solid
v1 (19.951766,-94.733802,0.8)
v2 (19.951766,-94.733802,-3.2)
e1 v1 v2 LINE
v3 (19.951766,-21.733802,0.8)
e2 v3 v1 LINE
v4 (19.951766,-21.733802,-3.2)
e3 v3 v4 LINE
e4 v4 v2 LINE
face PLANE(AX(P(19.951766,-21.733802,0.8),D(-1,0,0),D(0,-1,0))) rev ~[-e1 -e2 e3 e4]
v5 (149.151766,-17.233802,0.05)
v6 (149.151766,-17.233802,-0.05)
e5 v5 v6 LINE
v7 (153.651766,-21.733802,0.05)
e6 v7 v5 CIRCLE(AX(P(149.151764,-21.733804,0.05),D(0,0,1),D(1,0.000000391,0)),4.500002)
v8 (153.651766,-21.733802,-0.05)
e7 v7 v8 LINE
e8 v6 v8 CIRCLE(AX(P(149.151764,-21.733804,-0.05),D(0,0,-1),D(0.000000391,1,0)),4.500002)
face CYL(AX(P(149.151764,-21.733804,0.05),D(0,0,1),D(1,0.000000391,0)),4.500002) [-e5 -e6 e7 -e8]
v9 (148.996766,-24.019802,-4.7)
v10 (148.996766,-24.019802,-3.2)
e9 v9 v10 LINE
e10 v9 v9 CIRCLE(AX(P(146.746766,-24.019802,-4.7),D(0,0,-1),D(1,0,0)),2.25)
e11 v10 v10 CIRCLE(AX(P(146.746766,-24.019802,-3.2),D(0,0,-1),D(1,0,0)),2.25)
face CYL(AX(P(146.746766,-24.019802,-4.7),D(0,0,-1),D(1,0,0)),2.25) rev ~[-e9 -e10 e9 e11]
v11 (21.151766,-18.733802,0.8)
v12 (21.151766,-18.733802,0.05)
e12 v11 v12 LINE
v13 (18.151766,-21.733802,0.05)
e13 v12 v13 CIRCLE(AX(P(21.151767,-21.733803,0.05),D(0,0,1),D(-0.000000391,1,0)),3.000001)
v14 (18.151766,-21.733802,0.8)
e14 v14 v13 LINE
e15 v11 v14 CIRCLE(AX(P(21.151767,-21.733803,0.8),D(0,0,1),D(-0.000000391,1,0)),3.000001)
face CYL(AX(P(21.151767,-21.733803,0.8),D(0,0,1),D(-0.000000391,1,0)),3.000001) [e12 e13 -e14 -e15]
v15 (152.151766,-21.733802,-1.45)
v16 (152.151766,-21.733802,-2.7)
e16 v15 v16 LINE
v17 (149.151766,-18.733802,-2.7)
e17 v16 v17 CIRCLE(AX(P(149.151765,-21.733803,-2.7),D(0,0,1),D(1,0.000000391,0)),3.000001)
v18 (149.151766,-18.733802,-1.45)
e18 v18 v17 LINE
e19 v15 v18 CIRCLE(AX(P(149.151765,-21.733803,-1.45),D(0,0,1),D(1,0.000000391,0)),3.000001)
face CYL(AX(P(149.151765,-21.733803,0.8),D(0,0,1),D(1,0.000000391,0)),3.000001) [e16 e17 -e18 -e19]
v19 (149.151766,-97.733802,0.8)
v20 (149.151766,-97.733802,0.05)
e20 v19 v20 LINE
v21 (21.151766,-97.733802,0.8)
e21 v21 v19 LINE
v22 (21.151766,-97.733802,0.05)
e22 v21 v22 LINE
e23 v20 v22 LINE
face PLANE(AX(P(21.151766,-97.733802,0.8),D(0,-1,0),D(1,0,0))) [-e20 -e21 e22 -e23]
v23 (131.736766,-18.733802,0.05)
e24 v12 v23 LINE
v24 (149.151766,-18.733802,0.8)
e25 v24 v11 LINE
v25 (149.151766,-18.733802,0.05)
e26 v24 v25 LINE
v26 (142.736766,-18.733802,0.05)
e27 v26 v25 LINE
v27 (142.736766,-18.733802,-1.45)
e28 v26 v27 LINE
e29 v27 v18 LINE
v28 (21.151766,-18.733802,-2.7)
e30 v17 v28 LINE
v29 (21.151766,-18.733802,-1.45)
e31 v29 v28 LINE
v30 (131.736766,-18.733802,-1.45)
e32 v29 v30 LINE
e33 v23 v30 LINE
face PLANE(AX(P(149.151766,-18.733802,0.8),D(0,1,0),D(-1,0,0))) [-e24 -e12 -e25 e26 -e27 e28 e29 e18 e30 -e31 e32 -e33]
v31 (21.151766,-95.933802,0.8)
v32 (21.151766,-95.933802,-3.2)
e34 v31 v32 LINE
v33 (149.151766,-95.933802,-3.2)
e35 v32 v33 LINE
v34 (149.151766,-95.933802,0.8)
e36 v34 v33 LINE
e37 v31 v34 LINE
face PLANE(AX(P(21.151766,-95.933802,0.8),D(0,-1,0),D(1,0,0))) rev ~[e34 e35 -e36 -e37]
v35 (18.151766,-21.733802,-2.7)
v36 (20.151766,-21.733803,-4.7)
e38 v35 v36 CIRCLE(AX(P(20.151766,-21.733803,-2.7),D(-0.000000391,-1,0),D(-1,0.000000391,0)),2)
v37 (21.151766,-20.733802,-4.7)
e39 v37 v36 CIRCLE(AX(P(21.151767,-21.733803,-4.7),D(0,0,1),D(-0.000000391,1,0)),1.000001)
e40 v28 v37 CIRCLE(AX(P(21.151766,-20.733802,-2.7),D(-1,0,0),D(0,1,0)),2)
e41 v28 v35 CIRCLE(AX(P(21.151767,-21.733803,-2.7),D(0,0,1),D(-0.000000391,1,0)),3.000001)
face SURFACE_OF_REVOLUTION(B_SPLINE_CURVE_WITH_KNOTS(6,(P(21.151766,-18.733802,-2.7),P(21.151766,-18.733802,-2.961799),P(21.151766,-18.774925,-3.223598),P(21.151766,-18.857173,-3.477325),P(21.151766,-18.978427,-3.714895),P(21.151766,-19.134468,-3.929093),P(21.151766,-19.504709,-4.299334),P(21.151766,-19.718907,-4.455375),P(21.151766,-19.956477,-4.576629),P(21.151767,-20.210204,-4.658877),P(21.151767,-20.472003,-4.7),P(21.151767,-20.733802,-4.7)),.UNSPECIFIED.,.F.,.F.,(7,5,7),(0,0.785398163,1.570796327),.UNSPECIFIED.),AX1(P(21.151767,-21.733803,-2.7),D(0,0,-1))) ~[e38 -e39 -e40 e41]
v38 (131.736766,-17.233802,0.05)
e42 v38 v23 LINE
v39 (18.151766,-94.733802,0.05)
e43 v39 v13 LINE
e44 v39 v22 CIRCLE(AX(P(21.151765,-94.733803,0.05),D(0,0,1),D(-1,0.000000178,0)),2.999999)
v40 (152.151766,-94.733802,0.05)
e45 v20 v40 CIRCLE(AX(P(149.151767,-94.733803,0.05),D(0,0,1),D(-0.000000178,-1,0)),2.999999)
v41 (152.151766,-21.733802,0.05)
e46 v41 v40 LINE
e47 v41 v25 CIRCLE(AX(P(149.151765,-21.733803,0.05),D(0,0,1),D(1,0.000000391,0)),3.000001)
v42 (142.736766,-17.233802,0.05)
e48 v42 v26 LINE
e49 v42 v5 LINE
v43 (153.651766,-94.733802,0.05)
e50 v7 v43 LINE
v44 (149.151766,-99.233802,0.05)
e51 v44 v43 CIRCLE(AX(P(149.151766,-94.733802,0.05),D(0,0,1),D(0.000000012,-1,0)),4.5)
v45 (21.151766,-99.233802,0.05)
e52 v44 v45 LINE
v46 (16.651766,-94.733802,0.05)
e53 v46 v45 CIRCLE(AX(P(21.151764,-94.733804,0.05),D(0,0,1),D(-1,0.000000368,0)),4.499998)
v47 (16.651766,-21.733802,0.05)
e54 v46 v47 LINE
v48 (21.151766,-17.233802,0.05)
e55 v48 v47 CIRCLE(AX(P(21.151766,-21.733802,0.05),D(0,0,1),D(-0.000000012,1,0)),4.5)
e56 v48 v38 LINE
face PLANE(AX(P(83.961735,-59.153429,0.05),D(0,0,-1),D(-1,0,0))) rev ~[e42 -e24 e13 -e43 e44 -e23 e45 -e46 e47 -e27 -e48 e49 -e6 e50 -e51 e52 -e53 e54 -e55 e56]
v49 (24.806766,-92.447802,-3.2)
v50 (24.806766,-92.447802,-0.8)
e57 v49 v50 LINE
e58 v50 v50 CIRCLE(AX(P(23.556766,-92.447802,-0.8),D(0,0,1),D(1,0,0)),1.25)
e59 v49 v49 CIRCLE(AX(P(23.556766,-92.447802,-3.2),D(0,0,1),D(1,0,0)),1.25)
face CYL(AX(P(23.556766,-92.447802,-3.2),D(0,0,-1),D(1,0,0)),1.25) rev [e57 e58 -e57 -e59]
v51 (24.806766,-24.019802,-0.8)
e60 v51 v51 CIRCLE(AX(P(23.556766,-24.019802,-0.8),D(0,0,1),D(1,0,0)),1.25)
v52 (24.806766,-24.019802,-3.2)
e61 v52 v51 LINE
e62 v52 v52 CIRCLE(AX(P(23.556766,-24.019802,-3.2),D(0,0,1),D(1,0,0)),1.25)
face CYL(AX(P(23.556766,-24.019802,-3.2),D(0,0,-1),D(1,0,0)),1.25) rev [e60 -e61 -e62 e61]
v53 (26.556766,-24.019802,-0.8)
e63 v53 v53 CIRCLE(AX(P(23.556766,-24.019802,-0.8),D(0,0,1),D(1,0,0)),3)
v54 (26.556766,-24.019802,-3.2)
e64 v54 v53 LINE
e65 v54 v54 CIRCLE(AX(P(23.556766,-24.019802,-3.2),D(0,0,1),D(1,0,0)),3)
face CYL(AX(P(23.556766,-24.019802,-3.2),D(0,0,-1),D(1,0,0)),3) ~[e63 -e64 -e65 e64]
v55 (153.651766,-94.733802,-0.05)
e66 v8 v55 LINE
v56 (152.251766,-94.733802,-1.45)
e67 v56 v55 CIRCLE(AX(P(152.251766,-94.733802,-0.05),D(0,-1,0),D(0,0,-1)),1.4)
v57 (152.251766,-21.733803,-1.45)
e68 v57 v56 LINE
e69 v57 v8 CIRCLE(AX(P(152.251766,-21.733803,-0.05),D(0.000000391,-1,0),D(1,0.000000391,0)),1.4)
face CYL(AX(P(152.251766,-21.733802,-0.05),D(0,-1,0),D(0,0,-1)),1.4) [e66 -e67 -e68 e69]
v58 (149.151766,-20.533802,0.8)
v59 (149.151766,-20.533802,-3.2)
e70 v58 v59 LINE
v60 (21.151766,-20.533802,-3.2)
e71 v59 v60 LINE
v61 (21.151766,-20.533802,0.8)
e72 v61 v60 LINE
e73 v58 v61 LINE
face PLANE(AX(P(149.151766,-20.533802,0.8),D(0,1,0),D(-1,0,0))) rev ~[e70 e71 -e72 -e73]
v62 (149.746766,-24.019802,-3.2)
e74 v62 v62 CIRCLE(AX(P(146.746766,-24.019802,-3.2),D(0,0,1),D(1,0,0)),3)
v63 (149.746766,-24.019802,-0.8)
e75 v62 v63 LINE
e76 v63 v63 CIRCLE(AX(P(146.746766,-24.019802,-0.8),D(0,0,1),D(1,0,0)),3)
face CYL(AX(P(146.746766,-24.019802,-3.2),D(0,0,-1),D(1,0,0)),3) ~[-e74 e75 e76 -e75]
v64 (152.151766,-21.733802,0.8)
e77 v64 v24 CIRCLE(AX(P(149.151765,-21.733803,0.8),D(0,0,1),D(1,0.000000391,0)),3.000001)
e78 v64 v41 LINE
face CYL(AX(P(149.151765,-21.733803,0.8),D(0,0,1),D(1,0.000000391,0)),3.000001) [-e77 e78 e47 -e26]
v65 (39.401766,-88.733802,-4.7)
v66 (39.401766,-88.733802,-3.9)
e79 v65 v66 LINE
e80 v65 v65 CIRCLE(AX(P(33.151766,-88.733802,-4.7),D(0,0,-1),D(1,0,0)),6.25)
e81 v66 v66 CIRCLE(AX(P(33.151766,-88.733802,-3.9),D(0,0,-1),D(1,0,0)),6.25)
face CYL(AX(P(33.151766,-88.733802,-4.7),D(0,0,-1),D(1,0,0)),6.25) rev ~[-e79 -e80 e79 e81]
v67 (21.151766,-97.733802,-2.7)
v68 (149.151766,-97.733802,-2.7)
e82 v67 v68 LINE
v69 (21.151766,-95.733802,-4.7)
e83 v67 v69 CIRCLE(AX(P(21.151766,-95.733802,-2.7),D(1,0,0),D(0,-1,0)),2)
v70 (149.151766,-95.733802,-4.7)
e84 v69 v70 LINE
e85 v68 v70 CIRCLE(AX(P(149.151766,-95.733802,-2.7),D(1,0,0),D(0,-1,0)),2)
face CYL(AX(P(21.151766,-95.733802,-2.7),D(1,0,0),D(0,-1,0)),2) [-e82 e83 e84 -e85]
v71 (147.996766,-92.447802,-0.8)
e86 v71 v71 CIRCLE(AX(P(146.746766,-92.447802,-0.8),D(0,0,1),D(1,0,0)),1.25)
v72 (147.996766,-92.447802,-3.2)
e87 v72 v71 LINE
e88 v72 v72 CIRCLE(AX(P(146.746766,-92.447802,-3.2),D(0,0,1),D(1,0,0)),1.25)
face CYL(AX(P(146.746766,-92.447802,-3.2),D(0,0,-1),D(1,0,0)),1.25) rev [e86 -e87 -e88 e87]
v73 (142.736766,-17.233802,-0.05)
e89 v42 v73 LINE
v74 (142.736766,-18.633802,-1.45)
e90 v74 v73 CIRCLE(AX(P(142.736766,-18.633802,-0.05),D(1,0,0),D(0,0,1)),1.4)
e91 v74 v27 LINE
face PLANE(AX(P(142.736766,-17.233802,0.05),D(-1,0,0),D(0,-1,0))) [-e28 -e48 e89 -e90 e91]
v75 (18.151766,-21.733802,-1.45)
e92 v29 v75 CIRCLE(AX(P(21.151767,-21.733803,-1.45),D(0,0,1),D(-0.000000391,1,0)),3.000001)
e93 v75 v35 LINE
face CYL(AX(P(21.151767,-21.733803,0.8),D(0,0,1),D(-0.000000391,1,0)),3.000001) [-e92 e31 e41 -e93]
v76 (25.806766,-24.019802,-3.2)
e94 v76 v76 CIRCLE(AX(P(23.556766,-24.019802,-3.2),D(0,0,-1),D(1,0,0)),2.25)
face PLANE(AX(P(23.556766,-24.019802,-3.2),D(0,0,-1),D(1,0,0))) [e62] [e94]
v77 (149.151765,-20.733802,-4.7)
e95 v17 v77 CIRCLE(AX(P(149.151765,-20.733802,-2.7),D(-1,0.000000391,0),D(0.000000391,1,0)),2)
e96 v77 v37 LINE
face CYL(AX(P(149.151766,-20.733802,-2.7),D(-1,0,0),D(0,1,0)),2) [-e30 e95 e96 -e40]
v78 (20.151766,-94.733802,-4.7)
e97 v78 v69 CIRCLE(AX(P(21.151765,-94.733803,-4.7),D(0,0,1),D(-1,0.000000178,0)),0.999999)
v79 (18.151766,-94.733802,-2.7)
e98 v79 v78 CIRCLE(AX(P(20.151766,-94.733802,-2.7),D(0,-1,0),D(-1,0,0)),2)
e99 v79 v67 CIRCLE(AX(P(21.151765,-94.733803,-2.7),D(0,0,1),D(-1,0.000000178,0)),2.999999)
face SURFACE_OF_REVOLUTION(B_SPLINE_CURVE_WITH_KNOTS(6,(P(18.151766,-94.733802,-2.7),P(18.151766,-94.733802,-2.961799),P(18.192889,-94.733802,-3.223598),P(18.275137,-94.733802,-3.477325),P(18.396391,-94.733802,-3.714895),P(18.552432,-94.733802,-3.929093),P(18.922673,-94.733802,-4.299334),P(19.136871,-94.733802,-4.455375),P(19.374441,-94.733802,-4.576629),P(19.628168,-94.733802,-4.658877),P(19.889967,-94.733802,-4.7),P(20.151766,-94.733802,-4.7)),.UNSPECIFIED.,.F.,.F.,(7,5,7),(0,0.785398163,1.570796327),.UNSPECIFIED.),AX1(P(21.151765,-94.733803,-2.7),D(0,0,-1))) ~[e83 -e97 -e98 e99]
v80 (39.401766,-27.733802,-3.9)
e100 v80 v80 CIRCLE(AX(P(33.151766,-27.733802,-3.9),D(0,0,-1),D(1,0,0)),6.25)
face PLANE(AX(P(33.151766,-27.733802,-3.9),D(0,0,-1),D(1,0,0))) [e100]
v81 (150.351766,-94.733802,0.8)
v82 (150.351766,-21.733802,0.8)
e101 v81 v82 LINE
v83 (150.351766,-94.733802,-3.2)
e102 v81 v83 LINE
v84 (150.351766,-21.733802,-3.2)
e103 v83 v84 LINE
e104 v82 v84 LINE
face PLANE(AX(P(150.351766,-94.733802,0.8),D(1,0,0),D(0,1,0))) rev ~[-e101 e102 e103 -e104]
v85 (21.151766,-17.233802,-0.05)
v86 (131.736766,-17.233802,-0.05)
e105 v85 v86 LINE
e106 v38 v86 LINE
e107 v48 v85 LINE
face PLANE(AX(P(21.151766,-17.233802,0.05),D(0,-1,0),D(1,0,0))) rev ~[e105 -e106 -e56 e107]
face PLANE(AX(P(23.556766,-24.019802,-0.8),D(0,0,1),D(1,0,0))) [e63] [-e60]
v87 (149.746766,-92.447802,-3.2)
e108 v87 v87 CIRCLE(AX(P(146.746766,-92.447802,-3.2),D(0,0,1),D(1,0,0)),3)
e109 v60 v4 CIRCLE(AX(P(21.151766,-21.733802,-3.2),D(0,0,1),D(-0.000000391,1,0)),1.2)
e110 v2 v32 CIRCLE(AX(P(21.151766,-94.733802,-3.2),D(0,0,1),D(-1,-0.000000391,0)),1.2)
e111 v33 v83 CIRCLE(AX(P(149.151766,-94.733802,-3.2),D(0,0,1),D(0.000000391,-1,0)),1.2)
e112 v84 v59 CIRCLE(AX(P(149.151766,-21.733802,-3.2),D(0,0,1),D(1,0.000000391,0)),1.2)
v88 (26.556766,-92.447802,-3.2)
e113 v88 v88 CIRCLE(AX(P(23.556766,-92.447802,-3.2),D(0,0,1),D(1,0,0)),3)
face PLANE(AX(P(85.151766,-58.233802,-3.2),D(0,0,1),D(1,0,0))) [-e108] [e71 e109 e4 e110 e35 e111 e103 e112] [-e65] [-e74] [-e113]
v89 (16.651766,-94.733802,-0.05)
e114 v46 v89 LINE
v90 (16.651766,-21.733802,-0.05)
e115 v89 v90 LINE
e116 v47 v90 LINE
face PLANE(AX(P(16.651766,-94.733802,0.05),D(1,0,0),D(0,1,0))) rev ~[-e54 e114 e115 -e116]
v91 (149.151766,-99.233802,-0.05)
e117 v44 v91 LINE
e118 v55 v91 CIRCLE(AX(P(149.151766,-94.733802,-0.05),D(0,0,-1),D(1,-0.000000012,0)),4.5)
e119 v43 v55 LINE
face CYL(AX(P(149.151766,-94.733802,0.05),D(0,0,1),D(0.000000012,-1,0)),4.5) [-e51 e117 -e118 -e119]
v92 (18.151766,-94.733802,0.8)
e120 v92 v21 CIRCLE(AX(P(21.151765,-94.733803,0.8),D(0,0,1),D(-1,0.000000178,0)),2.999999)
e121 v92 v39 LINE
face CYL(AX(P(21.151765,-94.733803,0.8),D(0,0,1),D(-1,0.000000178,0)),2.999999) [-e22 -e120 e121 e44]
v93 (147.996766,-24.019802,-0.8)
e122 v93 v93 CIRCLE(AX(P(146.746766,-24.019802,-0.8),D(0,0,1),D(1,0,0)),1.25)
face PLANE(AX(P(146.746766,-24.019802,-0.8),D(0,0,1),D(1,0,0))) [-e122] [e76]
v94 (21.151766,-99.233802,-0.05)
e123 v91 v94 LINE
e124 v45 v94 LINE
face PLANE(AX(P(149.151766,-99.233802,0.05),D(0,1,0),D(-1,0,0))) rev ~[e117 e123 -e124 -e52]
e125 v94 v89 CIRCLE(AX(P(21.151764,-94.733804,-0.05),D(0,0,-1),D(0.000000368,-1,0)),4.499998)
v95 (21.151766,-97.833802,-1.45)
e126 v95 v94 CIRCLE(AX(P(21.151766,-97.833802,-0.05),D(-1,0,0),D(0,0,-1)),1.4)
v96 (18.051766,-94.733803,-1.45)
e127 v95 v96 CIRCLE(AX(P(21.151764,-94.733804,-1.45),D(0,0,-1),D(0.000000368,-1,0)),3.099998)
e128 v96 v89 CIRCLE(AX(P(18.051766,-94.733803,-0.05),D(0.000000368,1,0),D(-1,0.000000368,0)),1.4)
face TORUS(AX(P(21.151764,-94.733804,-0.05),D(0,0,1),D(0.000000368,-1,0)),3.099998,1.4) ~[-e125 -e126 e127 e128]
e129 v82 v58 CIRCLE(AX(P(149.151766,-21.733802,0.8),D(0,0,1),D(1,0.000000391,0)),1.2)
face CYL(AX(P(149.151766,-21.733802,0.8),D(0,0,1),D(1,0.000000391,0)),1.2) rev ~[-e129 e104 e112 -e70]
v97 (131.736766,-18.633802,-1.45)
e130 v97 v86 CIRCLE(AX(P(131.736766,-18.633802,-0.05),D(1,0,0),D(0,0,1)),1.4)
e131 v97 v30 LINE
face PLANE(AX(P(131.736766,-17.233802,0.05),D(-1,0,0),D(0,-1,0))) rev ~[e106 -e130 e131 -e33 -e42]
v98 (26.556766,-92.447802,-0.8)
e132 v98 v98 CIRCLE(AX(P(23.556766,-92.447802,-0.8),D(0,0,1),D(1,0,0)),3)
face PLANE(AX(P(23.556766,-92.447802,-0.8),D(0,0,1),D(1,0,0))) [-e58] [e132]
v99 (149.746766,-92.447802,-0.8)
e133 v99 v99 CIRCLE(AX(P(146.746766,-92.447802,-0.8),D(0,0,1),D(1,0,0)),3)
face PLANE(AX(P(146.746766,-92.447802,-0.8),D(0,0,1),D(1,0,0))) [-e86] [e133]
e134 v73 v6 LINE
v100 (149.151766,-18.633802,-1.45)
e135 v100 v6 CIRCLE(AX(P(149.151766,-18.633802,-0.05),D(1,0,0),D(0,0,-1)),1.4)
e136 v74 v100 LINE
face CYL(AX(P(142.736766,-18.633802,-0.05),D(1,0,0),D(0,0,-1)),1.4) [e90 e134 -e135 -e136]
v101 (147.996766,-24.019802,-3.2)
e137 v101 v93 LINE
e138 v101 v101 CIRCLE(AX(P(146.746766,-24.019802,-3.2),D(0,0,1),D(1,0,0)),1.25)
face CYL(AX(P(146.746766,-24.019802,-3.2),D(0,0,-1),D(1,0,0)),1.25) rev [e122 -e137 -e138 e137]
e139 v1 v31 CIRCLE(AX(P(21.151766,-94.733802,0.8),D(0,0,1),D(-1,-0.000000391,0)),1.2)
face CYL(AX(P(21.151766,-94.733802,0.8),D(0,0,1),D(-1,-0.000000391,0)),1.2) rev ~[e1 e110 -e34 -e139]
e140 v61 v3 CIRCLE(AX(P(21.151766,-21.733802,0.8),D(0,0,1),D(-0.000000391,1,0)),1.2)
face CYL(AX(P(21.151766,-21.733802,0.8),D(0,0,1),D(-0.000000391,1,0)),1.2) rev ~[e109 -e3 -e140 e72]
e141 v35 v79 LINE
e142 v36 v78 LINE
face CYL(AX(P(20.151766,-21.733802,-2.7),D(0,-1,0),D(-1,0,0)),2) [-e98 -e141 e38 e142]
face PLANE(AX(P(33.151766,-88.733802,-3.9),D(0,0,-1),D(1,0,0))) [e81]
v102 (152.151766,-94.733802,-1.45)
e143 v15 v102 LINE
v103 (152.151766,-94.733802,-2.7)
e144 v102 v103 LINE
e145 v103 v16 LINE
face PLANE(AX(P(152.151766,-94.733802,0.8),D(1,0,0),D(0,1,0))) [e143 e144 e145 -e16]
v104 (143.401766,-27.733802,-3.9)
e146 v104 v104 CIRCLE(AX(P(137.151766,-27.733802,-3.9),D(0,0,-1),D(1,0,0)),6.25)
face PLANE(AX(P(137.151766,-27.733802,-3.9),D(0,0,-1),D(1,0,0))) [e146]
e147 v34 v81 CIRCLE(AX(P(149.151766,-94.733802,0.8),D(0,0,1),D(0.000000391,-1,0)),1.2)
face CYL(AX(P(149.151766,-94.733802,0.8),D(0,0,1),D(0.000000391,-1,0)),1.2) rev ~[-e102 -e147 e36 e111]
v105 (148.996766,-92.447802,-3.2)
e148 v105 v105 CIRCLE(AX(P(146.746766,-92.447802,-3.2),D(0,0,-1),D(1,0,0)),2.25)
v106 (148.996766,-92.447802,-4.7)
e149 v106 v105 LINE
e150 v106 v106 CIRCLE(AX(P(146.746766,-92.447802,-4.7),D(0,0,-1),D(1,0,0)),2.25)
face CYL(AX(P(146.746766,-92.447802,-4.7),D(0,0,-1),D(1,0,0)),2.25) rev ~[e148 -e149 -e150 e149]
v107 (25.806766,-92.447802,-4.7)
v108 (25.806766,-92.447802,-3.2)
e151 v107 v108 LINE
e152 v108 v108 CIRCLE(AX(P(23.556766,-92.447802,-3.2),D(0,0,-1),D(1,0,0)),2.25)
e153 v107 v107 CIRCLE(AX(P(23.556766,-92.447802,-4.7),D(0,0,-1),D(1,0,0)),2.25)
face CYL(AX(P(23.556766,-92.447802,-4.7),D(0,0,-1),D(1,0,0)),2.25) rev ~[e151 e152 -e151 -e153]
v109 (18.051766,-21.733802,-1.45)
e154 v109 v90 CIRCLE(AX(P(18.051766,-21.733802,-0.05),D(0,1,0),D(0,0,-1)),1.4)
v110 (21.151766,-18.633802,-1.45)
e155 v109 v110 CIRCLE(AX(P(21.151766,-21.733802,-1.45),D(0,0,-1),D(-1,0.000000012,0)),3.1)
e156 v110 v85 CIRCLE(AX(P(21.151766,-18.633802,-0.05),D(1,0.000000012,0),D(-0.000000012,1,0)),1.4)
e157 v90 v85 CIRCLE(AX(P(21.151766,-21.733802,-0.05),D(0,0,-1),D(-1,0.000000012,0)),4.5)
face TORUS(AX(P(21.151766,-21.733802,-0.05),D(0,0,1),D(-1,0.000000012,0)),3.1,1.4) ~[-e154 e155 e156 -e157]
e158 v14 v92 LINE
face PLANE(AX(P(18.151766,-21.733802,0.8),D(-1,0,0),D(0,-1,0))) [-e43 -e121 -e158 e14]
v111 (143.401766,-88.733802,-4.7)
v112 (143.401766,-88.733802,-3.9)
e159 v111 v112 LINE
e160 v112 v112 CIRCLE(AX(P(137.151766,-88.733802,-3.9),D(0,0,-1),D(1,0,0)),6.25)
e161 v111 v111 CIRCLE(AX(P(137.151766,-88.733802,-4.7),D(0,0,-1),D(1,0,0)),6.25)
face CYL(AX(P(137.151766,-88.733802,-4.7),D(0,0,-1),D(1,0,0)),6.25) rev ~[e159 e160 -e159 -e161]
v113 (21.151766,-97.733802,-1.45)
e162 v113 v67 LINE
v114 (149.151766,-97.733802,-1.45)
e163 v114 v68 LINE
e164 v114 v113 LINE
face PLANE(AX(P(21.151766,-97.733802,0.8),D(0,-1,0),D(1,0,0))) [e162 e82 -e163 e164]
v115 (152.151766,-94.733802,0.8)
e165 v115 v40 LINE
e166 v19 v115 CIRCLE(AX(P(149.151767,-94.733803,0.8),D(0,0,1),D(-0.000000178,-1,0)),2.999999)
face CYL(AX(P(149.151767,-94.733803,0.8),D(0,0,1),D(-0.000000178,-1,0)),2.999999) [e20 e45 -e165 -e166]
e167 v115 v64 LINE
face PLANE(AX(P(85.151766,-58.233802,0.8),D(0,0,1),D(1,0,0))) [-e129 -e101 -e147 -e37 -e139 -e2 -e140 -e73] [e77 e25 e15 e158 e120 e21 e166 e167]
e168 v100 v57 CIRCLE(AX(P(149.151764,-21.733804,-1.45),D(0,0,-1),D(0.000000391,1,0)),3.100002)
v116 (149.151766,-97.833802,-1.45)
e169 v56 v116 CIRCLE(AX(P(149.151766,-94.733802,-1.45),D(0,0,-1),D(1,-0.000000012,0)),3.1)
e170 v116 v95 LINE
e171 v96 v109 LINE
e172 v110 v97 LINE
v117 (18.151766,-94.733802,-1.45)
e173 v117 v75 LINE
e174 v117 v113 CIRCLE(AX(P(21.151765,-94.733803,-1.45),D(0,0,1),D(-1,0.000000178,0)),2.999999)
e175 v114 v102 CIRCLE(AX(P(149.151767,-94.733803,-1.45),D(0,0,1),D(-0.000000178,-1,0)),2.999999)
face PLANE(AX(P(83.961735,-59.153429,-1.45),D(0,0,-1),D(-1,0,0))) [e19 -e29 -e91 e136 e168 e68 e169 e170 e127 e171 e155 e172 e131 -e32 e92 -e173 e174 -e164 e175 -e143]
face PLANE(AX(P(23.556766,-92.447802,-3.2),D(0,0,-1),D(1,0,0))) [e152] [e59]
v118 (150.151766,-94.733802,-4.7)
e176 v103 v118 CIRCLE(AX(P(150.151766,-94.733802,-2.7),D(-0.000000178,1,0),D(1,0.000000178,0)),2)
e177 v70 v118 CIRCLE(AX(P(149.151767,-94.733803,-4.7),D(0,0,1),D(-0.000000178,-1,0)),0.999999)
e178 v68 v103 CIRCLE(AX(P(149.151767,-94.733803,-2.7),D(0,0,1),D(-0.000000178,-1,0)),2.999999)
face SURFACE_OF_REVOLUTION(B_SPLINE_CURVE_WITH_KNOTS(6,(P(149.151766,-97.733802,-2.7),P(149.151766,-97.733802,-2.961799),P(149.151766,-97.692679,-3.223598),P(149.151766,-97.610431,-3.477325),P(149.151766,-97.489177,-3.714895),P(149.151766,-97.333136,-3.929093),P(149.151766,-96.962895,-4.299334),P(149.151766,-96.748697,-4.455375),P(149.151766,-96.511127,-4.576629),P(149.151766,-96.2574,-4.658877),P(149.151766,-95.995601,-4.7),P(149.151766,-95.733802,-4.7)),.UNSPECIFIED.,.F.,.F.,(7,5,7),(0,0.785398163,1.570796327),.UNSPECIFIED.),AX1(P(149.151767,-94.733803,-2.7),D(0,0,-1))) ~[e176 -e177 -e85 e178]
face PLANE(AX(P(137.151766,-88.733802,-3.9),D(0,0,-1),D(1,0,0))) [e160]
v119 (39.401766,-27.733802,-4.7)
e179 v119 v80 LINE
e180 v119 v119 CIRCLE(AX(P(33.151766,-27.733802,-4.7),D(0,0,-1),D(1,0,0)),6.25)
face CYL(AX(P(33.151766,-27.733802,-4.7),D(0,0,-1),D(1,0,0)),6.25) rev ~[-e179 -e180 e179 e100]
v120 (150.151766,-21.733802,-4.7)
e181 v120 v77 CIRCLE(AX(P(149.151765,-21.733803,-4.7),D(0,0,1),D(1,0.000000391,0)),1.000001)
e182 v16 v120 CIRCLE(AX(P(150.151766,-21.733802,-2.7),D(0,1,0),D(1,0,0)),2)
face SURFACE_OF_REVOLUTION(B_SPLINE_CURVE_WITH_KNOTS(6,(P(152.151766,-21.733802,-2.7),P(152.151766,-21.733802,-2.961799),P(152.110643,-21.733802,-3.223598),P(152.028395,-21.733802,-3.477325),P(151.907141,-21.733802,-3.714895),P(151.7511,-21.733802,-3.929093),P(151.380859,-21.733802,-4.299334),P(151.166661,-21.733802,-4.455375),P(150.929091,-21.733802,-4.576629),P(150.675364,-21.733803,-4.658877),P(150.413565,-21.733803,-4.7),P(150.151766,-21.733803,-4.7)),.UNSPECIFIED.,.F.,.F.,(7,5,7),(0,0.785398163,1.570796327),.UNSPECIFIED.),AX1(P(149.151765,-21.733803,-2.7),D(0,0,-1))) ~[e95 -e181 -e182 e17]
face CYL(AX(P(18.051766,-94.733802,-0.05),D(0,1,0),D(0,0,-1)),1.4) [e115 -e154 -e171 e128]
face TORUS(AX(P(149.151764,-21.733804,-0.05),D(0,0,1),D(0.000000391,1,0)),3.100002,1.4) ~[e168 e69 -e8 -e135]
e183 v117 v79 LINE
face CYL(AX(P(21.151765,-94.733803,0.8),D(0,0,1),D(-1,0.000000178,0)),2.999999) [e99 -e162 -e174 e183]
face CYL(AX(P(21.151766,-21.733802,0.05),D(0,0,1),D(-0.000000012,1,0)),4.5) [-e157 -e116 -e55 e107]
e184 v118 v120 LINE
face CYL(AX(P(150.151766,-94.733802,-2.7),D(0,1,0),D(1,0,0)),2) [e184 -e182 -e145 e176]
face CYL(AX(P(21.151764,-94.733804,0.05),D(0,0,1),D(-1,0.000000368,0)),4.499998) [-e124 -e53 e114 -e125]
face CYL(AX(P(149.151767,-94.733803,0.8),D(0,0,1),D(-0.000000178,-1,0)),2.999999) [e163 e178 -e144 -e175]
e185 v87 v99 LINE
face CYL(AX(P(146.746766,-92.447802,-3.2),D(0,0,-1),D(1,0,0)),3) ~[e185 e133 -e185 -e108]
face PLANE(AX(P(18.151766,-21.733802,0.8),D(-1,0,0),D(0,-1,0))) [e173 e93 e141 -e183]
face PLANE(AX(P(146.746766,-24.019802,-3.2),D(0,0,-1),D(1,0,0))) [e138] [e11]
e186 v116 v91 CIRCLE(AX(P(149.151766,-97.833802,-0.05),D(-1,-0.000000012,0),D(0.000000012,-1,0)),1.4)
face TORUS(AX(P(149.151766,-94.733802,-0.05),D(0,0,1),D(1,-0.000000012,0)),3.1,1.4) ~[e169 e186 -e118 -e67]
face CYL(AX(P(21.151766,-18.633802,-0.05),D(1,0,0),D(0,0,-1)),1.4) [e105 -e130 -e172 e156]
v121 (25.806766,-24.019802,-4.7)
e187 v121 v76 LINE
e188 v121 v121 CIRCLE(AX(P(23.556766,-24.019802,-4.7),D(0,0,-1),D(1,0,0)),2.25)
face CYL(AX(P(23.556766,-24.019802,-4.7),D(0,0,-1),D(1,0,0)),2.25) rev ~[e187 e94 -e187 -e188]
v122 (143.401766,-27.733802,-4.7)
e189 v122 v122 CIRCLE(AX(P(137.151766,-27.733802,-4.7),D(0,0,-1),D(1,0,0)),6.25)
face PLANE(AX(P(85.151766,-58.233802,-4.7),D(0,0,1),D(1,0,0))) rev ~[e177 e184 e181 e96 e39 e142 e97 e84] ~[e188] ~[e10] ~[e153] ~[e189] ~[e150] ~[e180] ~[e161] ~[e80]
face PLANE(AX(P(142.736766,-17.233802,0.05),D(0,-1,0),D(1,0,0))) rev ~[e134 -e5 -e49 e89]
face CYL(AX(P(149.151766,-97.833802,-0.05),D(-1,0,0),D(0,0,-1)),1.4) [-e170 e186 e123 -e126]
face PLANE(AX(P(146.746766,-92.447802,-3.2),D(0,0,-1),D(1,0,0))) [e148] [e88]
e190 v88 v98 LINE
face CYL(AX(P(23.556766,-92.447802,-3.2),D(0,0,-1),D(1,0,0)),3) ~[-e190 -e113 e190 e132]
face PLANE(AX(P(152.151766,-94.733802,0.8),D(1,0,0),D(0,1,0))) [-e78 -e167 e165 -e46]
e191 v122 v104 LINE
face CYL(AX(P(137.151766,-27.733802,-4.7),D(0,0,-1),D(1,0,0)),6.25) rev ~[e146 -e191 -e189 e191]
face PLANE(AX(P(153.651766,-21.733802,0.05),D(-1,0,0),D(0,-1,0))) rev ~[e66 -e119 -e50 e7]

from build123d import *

# Parameters (mm, degrees)
PAD_DEPTH       = 5.5
FILLET_R        = 2
SKETCH001_R     = 1.25
POCKET_DEPTH    = 5.501
POCKET001_DEPTH = 4
SKETCH003_R     = 3
SKETCH003_R_2   = 1.25
PAD001_DEPTH    = 2.4
SKETCH004_R     = 2.25
POCKET002_DEPTH = 1.5
SKETCH005_R     = 6.25
POCKET003_DEPTH = 0.8
PAD012_DEPTH    = 1.5
FILLET004_R     = 1.4


with BuildPart() as part:
    # Sketch → Pad (new body)
    with BuildSketch(Plane.XY.offset(0.8)):
        with BuildLine():
            Line((18.151766, -21.733802), (18.151766, -94.733802))
            ThreePointArc((18.151766, -94.733802), (19.030446, -96.855123), (21.151766, -97.733802))
            Line((21.151766, -97.733802), (149.151766, -97.733802))
            ThreePointArc((149.151766, -97.733802), (151.273086, -96.855123), (152.151766, -94.733802))
            Line((152.151766, -94.733802), (152.151766, -21.733802))
            ThreePointArc((152.151766, -21.733802), (151.273086, -19.612482), (149.151766, -18.733802))
            Line((149.151766, -18.733802), (21.151766, -18.733802))
            ThreePointArc((21.151766, -18.733802), (19.030446, -19.612482), (18.151766, -21.733802))
        make_face()
    extrude(amount=-PAD_DEPTH)

    # Fillet
    fillet_edges = [part.edges().sort_by_distance(p)[0] for p in [
        (85.151766, -97.733802, -4.7),
    ]]
    fillet(fillet_edges, radius=FILLET_R)

    # Sketch001 (on Face4 of Fillet) → Pocket (cut, through all)
    with BuildSketch(Plane.XY.offset(0.8)):
        with Locations((23.556766, -24.019802)):
            Circle(SKETCH001_R)
        with Locations((146.746766, -24.019802)):
            Circle(SKETCH001_R)
        with Locations((146.746766, -92.447802)):
            Circle(SKETCH001_R)
        with Locations((23.556766, -92.447802)):
            Circle(SKETCH001_R)
    extrude(amount=-POCKET_DEPTH, mode=Mode.SUBTRACT)

    # Sketch002 (on Face4 of Pocket) → Pocket001 (cut)
    with BuildSketch(Plane.XY.offset(0.8)):
        with BuildLine():
            Line((19.951766, -21.733802), (19.951766, -94.733802))
            ThreePointArc((19.951766, -94.733802), (20.303238, -95.58233), (21.151766, -95.933802))
            Line((21.151766, -95.933802), (149.151766, -95.933802))
            ThreePointArc((149.151766, -95.933802), (150.000294, -95.58233), (150.351766, -94.733802))
            Line((150.351766, -94.733802), (150.351766, -21.733802))
            ThreePointArc((150.351766, -21.733802), (150.000294, -20.885274), (149.151766, -20.533802))
            Line((149.151766, -20.533802), (21.151766, -20.533802))
            ThreePointArc((21.151766, -20.533802), (20.303238, -20.885274), (19.951766, -21.733802))
        make_face()
    extrude(amount=-POCKET001_DEPTH, mode=Mode.SUBTRACT)

    # Sketch003 (on Face31 of Pocket001) → Pad001 (join)
    with BuildSketch(Plane.XY.offset(-3.2)):
        with Locations((23.556766, -24.019802)):
            Circle(SKETCH003_R)
        with Locations((23.556766, -24.019802)):
            Circle(SKETCH003_R_2, mode=Mode.SUBTRACT)
        with Locations((146.746766, -24.019802)):
            Circle(SKETCH003_R)
        with Locations((146.746766, -24.019802)):
            Circle(SKETCH003_R_2, mode=Mode.SUBTRACT)
        with Locations((146.746766, -92.447802)):
            Circle(SKETCH003_R)
        with Locations((146.746766, -92.447802)):
            Circle(SKETCH003_R_2, mode=Mode.SUBTRACT)
        with Locations((23.556766, -92.447802)):
            Circle(SKETCH003_R)
        with Locations((23.556766, -92.447802)):
            Circle(SKETCH003_R_2, mode=Mode.SUBTRACT)
    extrude(amount=PAD001_DEPTH)

    # Sketch004 (on Face8 of Pad001) → Pocket002 (cut)
    with BuildSketch(Plane(origin=(0, 0, -4.7), x_dir=(1, 0, 0), z_dir=(0, 0, -1))):
        with Locations((23.556766, 92.447802)):
            Circle(SKETCH004_R)
        with Locations((146.746766, 92.447802)):
            Circle(SKETCH004_R)
        with Locations((146.746766, 24.019802)):
            Circle(SKETCH004_R)
        with Locations((23.556766, 24.019802)):
            Circle(SKETCH004_R)
    extrude(amount=-POCKET002_DEPTH, mode=Mode.SUBTRACT)

    # Sketch005 (on Face8 of Pocket002) → Pocket003 (cut)
    with BuildSketch(Plane(origin=(0, 0, -4.7), x_dir=(1, 0, 0), z_dir=(0, 0, -1))):
        with Locations((33.151766, 88.733802)):
            Circle(SKETCH005_R)
        with Locations((137.151766, 88.733802)):
            Circle(SKETCH005_R)
        with Locations((137.151766, 27.733802)):
            Circle(SKETCH005_R)
        with Locations((33.151766, 27.733802)):
            Circle(SKETCH005_R)
    extrude(amount=-POCKET003_DEPTH, mode=Mode.SUBTRACT)

    # Sketch024 (on Face4 of Pocket003) → Pad012 (join)
    with BuildSketch(Plane.XY.offset(0.05)):
        with BuildLine():
            ThreePointArc((152.151766, -21.733802), (151.273086, -19.612482), (149.151766, -18.733802))
            Line((142.736766, -18.733802), (149.151766, -18.733802))
            Line((142.736766, -17.233802), (142.736766, -18.733802))
            Line((142.736766, -17.233802), (149.151766, -17.233802))
            ThreePointArc((153.651766, -21.733802), (152.333746, -18.551822), (149.151766, -17.233802))
            Line((153.651766, -21.733802), (153.651766, -94.733802))
            ThreePointArc((149.151766, -99.233802), (152.333746, -97.915783), (153.651766, -94.733802))
            Line((149.151766, -99.233802), (21.151766, -99.233802))
            ThreePointArc((16.651766, -94.733802), (17.969785, -97.915783), (21.151766, -99.233802))
            Line((16.651766, -94.733802), (16.651766, -21.733802))
            ThreePointArc((21.151766, -17.233802), (17.969785, -18.551822), (16.651766, -21.733802))
            Line((21.151766, -17.233802), (131.736766, -17.233802))
            Line((131.736766, -17.233802), (131.736766, -18.733802))
            Line((21.151766, -18.733802), (131.736766, -18.733802))
            ThreePointArc((21.151766, -18.733802), (19.030446, -19.612482), (18.151766, -21.733802))
            Line((18.151766, -94.733802), (18.151766, -21.733802))
            ThreePointArc((18.151766, -94.733802), (19.030446, -96.855123), (21.151766, -97.733802))
            Line((149.151766, -97.733802), (21.151766, -97.733802))
            ThreePointArc((149.151766, -97.733802), (151.273086, -96.855123), (152.151766, -94.733802))
            Line((152.151766, -21.733802), (152.151766, -94.733802))
        make_face()
    extrude(amount=-PAD012_DEPTH)

    # Fillet004
    fillet004_edges = [part.edges().sort_by_distance(p)[0] for p in [
        (16.651766, -58.233802, -1.45),
    ]]
    fillet(fillet004_edges, radius=FILLET004_R)


solid = part.part
